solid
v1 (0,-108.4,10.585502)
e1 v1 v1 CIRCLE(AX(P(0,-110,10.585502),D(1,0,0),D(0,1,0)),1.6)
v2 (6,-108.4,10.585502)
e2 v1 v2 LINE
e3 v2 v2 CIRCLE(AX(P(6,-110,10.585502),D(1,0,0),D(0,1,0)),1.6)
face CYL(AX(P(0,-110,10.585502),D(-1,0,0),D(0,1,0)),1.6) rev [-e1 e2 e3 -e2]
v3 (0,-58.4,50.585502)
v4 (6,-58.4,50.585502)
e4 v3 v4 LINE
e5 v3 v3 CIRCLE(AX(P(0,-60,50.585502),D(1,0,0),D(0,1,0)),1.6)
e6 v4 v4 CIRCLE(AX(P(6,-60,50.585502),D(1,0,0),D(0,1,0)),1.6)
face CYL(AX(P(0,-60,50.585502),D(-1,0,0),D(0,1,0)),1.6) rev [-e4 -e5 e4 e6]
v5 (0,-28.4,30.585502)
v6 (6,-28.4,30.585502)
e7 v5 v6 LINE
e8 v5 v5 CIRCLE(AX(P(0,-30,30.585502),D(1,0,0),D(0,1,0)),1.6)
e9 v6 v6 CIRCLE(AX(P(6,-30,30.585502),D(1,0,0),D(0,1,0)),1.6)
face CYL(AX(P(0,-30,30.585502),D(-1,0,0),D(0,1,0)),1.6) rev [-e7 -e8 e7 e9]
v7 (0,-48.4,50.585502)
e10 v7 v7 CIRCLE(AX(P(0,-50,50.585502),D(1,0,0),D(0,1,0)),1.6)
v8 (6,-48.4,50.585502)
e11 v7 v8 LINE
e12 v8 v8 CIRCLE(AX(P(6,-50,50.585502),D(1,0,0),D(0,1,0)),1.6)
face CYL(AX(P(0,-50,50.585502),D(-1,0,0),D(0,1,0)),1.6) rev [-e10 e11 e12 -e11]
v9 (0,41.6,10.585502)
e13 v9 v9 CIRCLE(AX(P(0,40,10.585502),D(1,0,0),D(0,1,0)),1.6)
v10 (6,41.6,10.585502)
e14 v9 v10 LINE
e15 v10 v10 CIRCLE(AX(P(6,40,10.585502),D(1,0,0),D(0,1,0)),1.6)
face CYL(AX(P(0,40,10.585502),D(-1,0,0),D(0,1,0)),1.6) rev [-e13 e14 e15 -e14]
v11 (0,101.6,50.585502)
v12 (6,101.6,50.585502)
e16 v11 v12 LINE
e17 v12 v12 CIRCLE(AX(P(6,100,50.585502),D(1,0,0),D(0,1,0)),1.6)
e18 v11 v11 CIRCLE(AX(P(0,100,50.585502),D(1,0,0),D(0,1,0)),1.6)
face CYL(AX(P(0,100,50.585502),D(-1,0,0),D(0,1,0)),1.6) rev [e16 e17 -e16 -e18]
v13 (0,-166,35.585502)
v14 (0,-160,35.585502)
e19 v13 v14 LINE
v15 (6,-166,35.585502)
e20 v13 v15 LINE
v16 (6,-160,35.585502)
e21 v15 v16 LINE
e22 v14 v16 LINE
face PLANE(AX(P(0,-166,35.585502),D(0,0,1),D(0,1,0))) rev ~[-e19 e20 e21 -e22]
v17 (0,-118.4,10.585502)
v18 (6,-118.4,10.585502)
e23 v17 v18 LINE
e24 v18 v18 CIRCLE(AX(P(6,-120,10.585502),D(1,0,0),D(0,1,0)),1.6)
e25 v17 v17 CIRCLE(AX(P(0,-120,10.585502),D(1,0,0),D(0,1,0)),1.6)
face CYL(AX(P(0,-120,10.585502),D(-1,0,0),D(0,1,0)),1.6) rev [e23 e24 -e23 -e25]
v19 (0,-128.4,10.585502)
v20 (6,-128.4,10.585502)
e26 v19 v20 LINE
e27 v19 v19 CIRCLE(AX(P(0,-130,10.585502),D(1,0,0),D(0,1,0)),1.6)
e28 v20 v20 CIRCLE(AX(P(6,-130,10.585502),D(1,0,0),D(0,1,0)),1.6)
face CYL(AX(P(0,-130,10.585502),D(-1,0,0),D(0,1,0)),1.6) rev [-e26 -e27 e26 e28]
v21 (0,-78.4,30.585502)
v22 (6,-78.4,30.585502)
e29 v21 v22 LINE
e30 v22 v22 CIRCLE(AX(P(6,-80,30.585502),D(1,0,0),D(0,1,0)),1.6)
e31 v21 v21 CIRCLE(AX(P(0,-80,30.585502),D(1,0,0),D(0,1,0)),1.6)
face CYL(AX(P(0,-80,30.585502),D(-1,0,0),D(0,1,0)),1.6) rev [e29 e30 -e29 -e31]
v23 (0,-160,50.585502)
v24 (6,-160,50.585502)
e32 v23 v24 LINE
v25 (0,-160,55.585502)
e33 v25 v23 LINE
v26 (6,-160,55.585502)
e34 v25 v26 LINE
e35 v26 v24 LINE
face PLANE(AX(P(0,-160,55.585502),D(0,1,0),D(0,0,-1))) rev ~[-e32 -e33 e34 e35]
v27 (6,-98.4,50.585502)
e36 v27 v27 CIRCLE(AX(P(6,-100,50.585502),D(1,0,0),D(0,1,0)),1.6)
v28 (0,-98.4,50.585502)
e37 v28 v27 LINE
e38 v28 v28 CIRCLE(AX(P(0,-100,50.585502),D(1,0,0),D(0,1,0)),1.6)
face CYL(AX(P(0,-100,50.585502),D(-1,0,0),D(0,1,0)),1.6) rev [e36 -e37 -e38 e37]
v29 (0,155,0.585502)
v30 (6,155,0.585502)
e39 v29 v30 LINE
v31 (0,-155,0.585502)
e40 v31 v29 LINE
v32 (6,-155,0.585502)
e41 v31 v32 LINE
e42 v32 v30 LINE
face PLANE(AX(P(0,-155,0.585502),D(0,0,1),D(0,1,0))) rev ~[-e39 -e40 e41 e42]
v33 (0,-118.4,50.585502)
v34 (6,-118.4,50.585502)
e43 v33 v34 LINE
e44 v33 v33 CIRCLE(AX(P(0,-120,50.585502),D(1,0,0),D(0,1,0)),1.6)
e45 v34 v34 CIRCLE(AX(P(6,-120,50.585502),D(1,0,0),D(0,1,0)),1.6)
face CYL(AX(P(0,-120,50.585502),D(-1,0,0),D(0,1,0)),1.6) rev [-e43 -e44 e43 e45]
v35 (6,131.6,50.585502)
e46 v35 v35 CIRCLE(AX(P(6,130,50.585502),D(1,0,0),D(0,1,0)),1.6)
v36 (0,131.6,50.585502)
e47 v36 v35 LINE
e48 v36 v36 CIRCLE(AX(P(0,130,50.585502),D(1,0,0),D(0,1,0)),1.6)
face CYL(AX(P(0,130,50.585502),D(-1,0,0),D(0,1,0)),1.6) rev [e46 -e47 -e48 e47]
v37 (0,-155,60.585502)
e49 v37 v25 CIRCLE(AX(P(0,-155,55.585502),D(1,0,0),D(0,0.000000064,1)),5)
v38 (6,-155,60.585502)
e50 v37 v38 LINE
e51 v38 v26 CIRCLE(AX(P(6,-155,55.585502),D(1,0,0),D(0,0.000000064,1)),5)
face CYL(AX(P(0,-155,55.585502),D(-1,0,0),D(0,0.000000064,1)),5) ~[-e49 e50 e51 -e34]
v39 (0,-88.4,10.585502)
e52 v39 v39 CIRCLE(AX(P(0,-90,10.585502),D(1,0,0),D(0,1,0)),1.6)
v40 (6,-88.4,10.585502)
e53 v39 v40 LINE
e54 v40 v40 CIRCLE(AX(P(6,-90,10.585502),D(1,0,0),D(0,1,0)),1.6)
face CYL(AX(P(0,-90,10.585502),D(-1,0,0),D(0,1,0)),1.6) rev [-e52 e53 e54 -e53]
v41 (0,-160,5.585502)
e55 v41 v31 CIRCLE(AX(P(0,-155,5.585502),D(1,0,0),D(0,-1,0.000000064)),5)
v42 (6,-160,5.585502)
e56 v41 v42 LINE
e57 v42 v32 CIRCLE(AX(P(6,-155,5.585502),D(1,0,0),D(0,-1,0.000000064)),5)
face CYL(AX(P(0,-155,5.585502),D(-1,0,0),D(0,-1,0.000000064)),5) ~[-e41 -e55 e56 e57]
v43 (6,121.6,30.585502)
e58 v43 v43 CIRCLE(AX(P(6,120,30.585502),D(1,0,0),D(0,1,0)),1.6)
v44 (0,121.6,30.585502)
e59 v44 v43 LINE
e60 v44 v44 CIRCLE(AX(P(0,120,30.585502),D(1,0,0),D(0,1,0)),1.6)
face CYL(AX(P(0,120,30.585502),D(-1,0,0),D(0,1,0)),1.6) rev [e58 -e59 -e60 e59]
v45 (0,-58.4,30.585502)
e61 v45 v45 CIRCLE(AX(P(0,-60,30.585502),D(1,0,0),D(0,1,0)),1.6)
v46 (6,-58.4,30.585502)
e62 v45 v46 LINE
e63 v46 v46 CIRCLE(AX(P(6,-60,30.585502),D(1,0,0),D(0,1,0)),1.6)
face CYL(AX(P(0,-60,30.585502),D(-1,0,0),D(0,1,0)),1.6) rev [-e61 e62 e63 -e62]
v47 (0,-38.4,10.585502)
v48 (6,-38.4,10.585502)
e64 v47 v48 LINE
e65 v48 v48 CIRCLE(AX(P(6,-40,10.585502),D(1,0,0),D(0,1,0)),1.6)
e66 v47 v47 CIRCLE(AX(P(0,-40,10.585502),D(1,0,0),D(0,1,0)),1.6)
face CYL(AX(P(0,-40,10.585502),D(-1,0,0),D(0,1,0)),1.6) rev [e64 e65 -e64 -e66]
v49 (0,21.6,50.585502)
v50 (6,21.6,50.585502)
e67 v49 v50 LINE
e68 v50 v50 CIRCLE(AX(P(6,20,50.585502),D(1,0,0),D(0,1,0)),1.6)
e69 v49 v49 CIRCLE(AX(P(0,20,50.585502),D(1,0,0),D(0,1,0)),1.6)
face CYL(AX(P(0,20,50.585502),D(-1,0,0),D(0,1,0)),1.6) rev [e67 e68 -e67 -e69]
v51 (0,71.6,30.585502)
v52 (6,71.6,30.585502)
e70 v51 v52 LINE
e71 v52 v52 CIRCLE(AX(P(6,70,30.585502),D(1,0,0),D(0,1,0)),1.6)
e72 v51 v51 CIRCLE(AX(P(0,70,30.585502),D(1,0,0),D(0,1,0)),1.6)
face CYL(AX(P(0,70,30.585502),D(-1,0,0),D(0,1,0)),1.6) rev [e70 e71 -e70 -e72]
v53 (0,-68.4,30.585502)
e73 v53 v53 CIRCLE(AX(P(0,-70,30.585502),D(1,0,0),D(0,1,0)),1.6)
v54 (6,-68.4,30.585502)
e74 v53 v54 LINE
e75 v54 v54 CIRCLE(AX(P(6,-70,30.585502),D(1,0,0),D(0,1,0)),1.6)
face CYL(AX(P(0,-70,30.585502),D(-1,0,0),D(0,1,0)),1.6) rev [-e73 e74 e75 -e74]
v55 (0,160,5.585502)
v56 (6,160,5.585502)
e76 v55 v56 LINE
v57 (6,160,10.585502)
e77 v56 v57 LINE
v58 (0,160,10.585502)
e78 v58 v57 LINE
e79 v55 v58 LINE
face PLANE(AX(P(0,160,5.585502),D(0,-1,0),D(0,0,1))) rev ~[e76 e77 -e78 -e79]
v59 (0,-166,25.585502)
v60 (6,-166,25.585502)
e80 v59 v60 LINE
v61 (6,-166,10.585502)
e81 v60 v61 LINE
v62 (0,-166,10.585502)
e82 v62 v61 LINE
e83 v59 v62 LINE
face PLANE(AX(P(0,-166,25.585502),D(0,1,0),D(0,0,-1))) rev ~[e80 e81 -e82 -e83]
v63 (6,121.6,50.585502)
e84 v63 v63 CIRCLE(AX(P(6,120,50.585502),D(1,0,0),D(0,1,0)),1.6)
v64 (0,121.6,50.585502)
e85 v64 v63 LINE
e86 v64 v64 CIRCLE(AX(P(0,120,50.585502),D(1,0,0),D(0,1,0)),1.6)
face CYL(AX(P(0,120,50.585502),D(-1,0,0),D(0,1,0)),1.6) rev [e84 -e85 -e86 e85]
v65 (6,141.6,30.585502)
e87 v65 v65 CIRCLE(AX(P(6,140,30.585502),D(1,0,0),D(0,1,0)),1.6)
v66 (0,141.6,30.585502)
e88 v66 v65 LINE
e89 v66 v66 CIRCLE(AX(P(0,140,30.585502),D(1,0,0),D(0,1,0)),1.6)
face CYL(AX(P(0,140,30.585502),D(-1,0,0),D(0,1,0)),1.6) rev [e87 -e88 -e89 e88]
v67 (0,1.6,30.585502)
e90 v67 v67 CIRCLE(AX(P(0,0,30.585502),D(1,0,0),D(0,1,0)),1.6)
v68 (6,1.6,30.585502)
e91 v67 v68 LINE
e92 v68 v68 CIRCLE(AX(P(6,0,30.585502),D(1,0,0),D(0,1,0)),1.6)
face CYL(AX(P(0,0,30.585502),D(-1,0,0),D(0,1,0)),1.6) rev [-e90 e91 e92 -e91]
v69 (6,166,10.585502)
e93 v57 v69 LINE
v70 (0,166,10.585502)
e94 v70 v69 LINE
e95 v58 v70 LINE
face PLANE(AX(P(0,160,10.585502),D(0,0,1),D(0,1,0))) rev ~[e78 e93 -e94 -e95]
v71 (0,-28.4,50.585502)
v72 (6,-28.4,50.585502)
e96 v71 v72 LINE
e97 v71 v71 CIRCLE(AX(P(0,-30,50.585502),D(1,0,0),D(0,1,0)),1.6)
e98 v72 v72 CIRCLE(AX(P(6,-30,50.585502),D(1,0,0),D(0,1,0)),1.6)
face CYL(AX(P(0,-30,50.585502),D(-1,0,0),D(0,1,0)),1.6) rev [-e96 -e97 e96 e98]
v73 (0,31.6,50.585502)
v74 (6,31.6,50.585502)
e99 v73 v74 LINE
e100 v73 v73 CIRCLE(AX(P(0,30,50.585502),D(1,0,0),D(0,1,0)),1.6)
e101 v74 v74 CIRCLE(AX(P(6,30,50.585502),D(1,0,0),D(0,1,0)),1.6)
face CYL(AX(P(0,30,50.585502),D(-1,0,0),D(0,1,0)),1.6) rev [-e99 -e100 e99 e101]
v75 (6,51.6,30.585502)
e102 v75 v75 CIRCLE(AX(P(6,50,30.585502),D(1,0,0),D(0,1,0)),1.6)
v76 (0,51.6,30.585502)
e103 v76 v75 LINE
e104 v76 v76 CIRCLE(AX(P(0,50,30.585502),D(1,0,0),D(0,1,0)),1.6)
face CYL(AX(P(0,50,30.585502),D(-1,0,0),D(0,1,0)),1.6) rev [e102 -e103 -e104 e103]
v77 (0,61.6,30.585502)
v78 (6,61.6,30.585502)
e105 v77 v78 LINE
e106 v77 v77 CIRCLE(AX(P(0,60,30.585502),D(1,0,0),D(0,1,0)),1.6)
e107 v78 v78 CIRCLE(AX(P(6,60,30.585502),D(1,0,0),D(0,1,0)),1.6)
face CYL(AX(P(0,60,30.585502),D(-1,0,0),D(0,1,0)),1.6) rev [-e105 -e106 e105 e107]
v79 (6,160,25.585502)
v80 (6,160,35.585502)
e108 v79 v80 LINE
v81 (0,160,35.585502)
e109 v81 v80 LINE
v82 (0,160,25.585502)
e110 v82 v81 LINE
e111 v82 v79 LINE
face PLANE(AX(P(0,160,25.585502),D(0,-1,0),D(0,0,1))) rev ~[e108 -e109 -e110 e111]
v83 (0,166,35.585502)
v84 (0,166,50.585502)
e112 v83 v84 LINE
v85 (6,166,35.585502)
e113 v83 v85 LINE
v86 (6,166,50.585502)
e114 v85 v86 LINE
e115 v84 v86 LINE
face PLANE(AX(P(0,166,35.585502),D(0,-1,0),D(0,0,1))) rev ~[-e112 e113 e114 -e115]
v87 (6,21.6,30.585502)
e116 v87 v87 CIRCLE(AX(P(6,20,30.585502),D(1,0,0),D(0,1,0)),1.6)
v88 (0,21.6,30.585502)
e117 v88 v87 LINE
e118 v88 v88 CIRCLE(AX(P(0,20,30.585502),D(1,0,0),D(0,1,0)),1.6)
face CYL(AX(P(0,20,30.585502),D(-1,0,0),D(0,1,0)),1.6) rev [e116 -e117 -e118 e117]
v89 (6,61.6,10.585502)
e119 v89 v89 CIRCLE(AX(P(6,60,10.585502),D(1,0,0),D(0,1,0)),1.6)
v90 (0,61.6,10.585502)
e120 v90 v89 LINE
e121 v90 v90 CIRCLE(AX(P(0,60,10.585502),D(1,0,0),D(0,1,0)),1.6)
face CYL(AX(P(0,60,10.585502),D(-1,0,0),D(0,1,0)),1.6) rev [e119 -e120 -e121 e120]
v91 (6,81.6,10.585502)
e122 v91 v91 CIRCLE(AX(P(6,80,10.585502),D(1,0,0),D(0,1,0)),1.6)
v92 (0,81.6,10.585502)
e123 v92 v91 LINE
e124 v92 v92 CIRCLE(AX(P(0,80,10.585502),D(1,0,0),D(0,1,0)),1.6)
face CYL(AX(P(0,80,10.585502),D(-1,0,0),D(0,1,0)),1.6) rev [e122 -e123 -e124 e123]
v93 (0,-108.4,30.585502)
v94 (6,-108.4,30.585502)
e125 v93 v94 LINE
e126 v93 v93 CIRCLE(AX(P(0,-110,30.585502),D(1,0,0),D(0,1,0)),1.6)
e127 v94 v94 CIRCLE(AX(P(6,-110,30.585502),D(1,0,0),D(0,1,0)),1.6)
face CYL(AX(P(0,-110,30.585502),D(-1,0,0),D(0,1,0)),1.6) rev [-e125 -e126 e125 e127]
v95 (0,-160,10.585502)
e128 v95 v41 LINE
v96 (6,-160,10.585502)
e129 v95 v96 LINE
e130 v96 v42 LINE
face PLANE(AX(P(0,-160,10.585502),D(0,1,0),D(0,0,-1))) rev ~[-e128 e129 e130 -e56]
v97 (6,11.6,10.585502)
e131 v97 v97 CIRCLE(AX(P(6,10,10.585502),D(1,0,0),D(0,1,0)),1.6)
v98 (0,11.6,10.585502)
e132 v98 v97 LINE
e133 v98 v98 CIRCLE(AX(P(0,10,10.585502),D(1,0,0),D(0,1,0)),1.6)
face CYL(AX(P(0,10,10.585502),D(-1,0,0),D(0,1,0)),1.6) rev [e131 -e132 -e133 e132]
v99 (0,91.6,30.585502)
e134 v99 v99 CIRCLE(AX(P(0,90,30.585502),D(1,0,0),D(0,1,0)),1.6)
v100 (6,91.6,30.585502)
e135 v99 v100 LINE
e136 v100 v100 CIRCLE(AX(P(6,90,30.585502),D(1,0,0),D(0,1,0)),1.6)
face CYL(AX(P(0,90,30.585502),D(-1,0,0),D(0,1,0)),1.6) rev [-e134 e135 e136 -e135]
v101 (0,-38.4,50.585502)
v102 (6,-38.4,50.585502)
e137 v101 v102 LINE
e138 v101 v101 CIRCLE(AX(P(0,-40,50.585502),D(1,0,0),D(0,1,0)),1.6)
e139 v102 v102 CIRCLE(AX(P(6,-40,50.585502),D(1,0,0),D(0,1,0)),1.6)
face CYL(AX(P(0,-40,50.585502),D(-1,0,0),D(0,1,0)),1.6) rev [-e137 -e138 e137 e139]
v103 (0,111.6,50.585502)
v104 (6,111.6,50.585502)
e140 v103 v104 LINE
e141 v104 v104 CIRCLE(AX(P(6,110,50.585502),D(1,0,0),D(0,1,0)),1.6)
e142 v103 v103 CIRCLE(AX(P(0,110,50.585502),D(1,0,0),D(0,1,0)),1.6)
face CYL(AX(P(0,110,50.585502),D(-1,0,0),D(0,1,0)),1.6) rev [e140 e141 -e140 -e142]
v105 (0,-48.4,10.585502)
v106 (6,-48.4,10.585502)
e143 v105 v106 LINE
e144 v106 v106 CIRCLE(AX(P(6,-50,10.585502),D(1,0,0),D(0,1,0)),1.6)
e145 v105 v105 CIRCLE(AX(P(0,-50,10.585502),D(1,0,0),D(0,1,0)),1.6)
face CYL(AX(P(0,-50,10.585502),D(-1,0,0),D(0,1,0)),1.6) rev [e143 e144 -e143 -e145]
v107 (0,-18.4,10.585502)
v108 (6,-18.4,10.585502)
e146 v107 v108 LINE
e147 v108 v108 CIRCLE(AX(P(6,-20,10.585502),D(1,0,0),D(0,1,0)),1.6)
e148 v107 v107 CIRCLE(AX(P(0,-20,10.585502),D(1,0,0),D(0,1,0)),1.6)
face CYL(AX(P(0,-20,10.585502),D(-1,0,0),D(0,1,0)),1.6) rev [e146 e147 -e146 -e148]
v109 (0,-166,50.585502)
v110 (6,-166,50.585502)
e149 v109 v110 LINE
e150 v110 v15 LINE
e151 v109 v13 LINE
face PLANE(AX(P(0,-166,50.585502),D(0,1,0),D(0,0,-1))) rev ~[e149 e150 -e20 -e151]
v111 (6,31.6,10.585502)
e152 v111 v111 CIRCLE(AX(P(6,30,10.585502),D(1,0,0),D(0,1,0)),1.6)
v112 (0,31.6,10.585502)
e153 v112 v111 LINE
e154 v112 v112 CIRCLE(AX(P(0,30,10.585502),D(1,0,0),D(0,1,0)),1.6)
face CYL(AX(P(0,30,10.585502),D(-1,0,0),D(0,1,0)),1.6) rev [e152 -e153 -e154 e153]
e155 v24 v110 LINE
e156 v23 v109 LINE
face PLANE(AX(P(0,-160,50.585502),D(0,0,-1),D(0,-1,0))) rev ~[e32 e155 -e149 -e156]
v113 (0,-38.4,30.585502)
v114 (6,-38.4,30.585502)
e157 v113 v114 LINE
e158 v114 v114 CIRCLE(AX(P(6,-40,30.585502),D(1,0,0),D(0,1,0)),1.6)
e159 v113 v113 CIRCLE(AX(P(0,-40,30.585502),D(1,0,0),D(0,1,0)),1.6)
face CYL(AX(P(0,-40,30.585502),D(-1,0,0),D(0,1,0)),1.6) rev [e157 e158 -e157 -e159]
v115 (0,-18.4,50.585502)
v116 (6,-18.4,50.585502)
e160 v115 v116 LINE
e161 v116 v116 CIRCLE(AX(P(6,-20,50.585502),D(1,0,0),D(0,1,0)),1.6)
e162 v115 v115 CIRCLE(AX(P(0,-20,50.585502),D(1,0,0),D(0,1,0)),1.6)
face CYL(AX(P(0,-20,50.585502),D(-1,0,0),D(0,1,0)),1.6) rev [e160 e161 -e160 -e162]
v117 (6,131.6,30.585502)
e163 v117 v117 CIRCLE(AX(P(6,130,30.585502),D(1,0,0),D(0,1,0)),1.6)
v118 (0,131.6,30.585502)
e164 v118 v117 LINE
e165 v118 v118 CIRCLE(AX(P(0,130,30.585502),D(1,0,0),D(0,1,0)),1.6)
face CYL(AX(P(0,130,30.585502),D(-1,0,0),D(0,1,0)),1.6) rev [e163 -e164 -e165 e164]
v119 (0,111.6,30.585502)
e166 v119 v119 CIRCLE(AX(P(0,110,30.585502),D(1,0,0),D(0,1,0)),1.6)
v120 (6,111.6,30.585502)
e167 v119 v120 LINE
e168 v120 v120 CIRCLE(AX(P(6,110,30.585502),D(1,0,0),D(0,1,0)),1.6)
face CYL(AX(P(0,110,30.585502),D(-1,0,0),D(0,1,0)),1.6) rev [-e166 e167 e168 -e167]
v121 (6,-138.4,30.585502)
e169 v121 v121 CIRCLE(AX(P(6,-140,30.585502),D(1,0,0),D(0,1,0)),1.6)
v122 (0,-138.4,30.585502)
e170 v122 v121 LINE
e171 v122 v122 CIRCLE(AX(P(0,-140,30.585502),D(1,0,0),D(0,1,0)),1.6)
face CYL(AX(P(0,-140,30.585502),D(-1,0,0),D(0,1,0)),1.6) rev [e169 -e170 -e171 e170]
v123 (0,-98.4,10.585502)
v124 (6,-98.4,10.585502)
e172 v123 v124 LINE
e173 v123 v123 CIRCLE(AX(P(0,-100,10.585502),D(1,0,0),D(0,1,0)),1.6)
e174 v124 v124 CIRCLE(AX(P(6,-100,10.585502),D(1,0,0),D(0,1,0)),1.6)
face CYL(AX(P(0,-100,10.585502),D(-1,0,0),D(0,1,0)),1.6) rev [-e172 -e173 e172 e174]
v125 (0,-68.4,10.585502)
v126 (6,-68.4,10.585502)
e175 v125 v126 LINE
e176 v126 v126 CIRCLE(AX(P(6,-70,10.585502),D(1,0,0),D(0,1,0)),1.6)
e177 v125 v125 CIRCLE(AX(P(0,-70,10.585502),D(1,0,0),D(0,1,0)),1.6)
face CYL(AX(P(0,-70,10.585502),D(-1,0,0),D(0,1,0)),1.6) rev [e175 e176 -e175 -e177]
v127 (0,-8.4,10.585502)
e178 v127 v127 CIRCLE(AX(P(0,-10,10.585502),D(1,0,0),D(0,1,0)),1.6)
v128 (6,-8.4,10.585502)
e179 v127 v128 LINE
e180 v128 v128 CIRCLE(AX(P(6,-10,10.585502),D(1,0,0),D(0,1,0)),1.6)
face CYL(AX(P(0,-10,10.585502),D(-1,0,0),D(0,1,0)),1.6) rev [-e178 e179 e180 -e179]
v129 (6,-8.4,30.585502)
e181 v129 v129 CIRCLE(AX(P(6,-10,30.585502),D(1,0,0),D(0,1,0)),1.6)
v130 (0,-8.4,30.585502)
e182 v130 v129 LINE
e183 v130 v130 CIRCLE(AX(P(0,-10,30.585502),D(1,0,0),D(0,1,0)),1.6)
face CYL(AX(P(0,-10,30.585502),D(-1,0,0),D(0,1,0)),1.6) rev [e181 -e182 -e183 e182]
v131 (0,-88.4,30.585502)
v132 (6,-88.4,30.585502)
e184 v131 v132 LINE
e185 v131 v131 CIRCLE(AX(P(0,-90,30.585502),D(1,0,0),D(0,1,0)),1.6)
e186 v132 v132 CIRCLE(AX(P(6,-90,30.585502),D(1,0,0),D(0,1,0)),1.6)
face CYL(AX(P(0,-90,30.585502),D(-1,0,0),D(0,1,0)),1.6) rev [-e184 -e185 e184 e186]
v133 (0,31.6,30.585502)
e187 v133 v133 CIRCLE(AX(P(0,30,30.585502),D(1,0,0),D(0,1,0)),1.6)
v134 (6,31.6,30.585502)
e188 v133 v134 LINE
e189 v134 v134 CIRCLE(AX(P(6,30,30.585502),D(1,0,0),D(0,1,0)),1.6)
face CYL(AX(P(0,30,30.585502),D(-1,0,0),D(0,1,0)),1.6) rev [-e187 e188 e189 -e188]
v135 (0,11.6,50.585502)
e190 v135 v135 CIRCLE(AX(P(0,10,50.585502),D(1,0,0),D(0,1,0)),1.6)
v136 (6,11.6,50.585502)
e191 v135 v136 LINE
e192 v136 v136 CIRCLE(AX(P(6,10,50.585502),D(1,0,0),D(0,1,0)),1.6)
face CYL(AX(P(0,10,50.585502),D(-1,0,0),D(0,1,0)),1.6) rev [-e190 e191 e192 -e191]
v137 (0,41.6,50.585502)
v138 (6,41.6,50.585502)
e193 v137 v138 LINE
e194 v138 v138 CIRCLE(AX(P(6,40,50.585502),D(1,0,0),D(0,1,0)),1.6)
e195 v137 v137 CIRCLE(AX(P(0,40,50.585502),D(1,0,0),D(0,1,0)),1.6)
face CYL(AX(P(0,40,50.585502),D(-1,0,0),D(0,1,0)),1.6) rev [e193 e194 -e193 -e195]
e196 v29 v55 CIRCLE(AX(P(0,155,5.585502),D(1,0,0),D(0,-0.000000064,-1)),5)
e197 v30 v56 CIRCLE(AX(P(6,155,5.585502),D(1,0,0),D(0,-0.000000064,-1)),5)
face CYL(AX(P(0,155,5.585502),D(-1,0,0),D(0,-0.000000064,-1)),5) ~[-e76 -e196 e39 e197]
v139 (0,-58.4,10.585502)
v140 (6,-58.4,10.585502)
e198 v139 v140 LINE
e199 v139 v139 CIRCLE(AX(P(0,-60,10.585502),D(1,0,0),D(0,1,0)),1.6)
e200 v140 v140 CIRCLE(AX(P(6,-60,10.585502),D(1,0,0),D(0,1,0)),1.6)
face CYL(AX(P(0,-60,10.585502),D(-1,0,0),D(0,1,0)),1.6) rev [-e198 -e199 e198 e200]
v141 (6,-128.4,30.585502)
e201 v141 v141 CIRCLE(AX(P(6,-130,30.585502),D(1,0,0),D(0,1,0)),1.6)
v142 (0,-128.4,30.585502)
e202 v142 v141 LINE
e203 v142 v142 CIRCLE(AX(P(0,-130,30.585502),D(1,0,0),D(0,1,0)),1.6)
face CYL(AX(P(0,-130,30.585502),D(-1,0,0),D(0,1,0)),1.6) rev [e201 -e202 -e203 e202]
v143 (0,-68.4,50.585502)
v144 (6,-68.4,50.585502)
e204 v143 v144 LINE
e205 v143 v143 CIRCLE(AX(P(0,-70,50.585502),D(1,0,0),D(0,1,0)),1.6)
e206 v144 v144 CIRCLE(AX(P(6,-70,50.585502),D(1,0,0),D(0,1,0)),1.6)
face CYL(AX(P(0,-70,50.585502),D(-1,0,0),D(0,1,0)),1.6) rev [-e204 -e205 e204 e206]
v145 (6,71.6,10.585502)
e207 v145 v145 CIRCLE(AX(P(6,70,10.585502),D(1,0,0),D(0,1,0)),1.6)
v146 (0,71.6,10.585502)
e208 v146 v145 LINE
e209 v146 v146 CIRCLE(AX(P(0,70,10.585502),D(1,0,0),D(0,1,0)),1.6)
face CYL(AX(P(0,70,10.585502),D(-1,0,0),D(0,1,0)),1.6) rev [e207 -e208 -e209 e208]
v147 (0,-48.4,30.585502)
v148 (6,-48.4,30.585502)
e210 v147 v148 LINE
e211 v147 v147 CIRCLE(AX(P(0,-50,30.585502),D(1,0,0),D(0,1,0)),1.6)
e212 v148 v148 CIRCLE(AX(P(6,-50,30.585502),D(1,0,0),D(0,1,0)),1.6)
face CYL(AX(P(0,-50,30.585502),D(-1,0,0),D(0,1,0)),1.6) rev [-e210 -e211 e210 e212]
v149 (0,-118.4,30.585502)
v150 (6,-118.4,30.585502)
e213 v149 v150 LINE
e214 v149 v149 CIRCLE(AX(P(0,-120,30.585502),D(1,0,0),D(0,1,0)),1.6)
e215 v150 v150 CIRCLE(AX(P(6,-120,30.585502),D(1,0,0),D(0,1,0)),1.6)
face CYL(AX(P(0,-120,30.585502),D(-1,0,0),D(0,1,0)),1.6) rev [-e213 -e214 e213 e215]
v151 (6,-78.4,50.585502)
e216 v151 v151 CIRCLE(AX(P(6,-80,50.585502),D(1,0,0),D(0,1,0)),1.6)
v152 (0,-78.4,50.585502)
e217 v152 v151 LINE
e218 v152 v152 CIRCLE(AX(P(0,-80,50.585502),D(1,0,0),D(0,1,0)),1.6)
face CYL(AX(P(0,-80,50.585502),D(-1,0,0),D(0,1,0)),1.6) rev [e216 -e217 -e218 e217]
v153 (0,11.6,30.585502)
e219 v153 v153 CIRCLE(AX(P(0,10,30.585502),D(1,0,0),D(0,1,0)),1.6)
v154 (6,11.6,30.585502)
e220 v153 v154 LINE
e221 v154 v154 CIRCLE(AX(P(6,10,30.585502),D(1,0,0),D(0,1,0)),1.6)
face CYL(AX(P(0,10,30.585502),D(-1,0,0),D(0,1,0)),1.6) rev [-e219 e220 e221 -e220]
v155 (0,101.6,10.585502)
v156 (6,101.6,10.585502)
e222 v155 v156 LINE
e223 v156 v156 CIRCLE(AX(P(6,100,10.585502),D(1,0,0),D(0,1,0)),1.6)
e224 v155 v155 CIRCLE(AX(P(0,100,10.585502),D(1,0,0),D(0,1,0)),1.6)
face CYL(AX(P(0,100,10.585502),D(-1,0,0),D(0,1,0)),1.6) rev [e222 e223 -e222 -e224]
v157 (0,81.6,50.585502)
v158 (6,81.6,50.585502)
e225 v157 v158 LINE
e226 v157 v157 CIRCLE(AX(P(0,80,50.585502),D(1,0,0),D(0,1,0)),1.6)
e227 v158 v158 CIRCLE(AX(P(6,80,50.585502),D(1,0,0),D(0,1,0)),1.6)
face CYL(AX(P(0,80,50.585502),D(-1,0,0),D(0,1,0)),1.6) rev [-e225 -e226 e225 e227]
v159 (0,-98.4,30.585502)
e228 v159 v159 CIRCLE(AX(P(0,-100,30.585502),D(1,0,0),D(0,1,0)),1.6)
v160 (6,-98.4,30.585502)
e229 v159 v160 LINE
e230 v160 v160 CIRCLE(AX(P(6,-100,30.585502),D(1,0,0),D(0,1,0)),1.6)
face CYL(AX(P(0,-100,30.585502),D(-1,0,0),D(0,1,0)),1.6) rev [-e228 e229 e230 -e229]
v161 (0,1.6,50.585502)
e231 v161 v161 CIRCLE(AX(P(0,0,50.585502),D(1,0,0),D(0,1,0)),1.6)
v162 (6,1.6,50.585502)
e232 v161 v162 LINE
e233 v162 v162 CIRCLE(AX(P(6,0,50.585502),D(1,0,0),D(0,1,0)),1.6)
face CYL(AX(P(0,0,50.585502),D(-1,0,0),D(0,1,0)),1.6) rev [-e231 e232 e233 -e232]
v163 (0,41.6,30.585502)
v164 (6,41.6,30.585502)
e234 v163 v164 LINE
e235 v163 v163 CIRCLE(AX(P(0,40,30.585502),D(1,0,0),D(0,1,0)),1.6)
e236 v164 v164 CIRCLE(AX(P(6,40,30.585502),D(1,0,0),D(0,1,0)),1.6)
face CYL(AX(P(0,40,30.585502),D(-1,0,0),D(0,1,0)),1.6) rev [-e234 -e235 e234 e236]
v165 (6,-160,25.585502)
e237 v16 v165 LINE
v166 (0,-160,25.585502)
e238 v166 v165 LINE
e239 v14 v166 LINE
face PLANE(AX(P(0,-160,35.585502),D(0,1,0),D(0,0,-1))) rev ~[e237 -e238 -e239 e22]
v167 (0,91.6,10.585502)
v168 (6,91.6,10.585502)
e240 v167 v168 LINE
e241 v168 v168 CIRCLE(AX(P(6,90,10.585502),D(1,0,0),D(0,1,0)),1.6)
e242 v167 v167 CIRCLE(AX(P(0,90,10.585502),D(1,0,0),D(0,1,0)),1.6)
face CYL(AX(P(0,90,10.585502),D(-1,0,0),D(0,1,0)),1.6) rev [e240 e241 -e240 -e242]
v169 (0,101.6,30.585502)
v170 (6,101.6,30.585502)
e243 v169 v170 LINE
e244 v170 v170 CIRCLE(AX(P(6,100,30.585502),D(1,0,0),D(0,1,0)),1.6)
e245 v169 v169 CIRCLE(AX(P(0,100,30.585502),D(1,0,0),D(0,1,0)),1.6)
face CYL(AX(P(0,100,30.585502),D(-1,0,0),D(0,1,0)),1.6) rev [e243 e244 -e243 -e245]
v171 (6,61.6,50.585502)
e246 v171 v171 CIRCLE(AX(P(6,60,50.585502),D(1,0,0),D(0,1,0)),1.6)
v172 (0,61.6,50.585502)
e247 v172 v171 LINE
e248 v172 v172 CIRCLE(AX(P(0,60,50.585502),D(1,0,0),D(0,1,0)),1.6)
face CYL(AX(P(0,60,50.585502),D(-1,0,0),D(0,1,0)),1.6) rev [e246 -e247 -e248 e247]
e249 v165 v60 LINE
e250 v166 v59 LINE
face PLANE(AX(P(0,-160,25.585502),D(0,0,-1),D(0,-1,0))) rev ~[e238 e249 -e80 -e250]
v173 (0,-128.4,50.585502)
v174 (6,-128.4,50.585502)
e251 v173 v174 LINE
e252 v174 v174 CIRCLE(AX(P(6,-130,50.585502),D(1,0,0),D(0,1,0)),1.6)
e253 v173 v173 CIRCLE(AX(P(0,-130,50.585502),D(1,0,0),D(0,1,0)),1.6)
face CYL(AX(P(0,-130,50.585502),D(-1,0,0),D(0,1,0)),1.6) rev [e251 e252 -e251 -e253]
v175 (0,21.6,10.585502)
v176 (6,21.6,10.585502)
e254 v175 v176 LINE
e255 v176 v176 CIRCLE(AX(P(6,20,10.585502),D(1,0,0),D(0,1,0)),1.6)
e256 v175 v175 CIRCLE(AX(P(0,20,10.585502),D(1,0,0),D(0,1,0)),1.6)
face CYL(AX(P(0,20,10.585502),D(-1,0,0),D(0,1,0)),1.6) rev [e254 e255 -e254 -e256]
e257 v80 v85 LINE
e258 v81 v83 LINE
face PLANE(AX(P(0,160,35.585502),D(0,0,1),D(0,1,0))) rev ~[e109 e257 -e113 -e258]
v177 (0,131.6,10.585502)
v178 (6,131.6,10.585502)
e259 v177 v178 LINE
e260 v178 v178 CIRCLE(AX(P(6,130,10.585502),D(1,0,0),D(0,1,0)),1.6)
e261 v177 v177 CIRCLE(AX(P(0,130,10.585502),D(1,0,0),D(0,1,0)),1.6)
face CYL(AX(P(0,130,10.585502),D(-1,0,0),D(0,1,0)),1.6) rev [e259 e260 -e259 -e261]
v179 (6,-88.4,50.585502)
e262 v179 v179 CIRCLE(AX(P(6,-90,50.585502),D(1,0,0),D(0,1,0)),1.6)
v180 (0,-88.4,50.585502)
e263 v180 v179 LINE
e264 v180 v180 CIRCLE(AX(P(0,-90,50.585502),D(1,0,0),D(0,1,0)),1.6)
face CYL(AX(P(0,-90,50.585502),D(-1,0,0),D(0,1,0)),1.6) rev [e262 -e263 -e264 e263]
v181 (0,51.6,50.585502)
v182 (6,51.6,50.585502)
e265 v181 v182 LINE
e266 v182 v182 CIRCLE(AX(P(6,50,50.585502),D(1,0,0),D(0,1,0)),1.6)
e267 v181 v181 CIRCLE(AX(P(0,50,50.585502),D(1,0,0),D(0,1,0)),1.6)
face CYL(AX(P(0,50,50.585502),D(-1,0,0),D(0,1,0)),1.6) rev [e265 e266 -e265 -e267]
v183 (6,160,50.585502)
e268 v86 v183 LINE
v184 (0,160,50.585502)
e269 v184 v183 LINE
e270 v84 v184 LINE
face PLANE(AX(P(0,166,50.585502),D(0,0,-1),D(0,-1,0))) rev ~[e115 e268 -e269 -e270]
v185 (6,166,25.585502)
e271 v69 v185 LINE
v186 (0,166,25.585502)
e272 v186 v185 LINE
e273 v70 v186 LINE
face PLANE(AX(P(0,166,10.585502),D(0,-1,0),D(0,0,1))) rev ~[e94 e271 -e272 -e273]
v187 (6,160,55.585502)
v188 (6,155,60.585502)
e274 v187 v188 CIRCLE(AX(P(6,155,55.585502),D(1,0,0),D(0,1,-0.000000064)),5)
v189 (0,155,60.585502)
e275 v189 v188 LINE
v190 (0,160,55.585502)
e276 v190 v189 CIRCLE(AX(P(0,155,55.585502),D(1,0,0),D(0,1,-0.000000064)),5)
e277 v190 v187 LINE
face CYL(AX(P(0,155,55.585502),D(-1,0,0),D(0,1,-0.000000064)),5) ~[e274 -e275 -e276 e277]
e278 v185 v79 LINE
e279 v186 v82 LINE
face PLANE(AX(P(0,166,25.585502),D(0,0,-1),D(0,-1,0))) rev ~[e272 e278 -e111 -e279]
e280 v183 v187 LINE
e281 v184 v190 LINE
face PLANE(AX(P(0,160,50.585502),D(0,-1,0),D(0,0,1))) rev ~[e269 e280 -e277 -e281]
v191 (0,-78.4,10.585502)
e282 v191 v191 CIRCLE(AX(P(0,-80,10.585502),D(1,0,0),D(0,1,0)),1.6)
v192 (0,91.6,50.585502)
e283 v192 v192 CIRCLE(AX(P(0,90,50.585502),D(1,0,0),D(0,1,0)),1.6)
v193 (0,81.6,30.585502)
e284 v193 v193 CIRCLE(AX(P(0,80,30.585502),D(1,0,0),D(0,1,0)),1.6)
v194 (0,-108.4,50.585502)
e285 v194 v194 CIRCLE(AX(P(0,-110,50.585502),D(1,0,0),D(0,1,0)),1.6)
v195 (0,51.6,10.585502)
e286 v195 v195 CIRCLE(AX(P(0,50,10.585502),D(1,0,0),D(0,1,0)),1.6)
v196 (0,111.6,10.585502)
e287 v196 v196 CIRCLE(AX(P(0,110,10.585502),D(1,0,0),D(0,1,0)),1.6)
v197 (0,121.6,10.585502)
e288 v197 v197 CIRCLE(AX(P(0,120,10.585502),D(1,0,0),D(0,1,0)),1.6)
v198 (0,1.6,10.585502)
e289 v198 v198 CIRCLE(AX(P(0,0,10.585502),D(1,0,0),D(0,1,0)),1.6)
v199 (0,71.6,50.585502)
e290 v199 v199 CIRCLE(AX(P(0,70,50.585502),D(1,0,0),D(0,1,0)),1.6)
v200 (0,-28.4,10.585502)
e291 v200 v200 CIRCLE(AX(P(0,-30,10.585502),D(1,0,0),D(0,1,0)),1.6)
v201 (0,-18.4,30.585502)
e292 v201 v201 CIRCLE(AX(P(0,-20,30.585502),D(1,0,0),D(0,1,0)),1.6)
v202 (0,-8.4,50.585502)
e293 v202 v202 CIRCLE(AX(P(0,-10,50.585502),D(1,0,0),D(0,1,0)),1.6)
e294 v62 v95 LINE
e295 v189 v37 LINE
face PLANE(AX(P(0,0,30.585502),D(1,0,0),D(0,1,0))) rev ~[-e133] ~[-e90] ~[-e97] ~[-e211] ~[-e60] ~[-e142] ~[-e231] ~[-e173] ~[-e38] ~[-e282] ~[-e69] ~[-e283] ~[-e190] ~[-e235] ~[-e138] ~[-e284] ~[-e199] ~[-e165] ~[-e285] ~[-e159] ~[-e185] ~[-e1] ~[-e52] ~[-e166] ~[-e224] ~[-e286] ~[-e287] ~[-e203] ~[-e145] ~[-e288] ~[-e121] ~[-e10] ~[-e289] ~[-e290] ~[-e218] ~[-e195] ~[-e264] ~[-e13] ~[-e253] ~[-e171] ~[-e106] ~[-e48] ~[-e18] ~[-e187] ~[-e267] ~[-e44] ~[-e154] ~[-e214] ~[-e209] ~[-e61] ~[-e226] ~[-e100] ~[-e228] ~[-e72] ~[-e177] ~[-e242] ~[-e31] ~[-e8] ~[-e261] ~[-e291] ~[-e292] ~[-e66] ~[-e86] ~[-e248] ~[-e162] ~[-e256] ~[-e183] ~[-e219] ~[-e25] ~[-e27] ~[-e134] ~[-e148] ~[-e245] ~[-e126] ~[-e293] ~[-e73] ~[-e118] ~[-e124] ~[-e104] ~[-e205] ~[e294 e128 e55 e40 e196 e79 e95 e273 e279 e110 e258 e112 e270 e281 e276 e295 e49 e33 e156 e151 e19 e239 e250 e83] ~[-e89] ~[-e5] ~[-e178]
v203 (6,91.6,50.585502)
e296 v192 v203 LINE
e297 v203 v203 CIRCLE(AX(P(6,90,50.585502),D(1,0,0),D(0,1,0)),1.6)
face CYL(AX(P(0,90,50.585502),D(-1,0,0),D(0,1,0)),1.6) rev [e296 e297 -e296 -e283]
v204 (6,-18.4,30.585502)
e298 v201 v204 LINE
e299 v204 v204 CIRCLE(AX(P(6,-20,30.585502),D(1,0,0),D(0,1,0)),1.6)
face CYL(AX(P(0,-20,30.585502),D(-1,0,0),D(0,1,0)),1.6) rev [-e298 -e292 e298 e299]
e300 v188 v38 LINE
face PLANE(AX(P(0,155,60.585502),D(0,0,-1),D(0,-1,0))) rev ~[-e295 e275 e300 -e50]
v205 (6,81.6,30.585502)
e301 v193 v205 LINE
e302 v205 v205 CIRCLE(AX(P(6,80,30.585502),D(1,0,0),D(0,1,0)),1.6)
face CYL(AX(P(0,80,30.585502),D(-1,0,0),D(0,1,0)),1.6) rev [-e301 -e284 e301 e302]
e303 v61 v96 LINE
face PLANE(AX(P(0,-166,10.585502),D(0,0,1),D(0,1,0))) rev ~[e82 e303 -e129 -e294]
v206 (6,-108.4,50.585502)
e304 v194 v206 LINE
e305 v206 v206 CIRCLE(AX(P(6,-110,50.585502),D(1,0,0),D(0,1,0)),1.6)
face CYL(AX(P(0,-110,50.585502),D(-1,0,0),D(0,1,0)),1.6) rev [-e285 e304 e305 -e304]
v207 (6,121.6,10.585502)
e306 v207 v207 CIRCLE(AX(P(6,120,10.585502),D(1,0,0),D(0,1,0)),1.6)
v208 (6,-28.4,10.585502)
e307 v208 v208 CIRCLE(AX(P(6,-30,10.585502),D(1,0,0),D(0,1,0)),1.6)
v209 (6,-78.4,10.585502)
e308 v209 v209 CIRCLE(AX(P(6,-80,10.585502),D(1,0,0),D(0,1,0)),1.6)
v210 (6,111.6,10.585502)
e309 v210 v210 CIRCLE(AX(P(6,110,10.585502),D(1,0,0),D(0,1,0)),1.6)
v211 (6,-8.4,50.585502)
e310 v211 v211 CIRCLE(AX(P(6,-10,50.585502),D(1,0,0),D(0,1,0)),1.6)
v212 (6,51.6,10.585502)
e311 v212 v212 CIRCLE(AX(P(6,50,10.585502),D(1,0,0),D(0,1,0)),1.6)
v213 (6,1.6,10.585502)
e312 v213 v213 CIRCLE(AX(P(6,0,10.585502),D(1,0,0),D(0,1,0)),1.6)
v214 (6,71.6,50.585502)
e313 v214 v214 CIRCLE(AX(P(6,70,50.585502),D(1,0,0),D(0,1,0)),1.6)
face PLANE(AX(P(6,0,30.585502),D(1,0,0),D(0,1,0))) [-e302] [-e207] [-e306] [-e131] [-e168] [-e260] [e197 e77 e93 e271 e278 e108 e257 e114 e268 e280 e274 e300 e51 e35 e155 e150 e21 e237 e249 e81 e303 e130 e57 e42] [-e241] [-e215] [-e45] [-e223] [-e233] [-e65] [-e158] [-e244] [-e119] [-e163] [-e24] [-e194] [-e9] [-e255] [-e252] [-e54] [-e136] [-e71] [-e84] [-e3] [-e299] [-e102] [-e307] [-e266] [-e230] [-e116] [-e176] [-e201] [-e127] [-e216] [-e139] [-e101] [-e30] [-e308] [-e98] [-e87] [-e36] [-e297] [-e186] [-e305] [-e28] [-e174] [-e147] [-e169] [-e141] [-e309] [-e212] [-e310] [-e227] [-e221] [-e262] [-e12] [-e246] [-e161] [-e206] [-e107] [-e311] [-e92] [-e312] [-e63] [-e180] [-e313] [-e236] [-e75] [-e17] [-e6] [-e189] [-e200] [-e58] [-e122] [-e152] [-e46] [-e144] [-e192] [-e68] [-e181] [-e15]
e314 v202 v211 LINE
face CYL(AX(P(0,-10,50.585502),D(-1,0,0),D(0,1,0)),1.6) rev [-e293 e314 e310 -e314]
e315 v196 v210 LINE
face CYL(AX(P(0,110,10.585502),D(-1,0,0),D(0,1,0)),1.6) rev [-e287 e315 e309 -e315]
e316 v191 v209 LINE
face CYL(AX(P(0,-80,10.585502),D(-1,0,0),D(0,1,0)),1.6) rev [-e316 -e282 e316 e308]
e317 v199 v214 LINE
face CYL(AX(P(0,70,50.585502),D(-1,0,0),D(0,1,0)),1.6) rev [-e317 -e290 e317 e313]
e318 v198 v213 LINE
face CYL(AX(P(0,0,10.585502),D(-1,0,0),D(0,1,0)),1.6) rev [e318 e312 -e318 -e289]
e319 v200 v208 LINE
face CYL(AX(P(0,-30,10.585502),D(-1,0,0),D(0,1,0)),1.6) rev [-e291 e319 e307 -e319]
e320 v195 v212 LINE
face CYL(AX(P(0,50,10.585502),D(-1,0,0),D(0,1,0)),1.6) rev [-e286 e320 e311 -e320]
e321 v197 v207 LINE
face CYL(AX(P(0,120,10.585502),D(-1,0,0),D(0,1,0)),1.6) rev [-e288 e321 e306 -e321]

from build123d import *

# Parameters (mm, degrees)
F0_R     = 1.6
F1_DEPTH = 6


with BuildPart() as f1:
    # F0 (on Right) → F1 (new body)
    with BuildSketch(Plane.YZ):
        with BuildLine():
            Line((0, 0.585502), (155, 0.585502))
            ThreePointArc((155, 0.585502), (158.535534, 2.049968), (160, 5.585502))
            Line((160, 5.585502), (160, 10.585502))
            Line((160, 10.585502), (166, 10.585502))
            Line((166, 10.585502), (166, 25.585502))
            Line((166, 25.585502), (160, 25.585502))
            Line((160, 25.585502), (160, 35.585502))
            Line((160, 35.585502), (166, 35.585502))
            Line((166, 35.585502), (166, 50.585502))
            Line((166, 50.585502), (160, 50.585502))
            Line((160, 50.585502), (160, 55.585502))
            ThreePointArc((160, 55.585502), (158.535534, 59.121036), (155, 60.585502))
            Line((155, 60.585502), (0, 60.585502))
            Line((0, 60.585502), (-155, 60.585502))
            ThreePointArc((-155, 60.585502), (-158.535534, 59.121036), (-160, 55.585502))
            Line((-160, 55.585502), (-160, 50.585502))
            Line((-160, 50.585502), (-166, 50.585502))
            Line((-166, 50.585502), (-166, 35.585502))
            Line((-166, 35.585502), (-160, 35.585502))
            Line((-160, 35.585502), (-160, 25.585502))
            Line((-160, 25.585502), (-166, 25.585502))
            Line((-166, 25.585502), (-166, 10.585502))
            Line((-166, 10.585502), (-160, 10.585502))
            Line((-160, 10.585502), (-160, 5.585502))
            ThreePointArc((-160, 5.585502), (-158.535534, 2.049968), (-155, 0.585502))
            Line((-155, 0.585502), (0, 0.585502))
        make_face()
        with Locations((-130, 10.585502)):
            Circle(F0_R, mode=Mode.SUBTRACT)
        with Locations((-120, 10.585502)):
            Circle(F0_R, mode=Mode.SUBTRACT)
        with Locations((-110, 10.585502)):
            Circle(F0_R, mode=Mode.SUBTRACT)
        with Locations((-100, 10.585502)):
            Circle(F0_R, mode=Mode.SUBTRACT)
        with Locations((-90, 10.585502)):
            Circle(F0_R, mode=Mode.SUBTRACT)
        with Locations((-80, 10.585502)):
            Circle(F0_R, mode=Mode.SUBTRACT)
        with Locations((-70, 10.585502)):
            Circle(F0_R, mode=Mode.SUBTRACT)
        with Locations((-60, 10.585502)):
            Circle(F0_R, mode=Mode.SUBTRACT)
        with Locations((-50, 10.585502)):
            Circle(F0_R, mode=Mode.SUBTRACT)
        with Locations((-40, 10.585502)):
            Circle(F0_R, mode=Mode.SUBTRACT)
        with Locations((-30, 10.585502)):
            Circle(F0_R, mode=Mode.SUBTRACT)
        with Locations((-20, 10.585502)):
            Circle(F0_R, mode=Mode.SUBTRACT)
        with Locations((-10, 10.585502)):
            Circle(F0_R, mode=Mode.SUBTRACT)
        with Locations((0, 10.585502)):
            Circle(F0_R, mode=Mode.SUBTRACT)
        with Locations((10, 10.585502)):
            Circle(F0_R, mode=Mode.SUBTRACT)
        with Locations((20, 10.585502)):
            Circle(F0_R, mode=Mode.SUBTRACT)
        with Locations((30, 10.585502)):
            Circle(F0_R, mode=Mode.SUBTRACT)
        with Locations((40, 10.585502)):
            Circle(F0_R, mode=Mode.SUBTRACT)
        with Locations((50, 10.585502)):
            Circle(F0_R, mode=Mode.SUBTRACT)
        with Locations((60, 10.585502)):
            Circle(F0_R, mode=Mode.SUBTRACT)
        with Locations((70, 10.585502)):
            Circle(F0_R, mode=Mode.SUBTRACT)
        with Locations((80, 10.585502)):
            Circle(F0_R, mode=Mode.SUBTRACT)
        with Locations((90, 10.585502)):
            Circle(F0_R, mode=Mode.SUBTRACT)
        with Locations((100, 10.585502)):
            Circle(F0_R, mode=Mode.SUBTRACT)
        with Locations((110, 10.585502)):
            Circle(F0_R, mode=Mode.SUBTRACT)
        with Locations((120, 10.585502)):
            Circle(F0_R, mode=Mode.SUBTRACT)
        with Locations((130, 10.585502)):
            Circle(F0_R, mode=Mode.SUBTRACT)
        with Locations((-140, 30.585502)):
            Circle(F0_R, mode=Mode.SUBTRACT)
        with Locations((-130, 30.585502)):
            Circle(F0_R, mode=Mode.SUBTRACT)
        with Locations((-120, 30.585502)):
            Circle(F0_R, mode=Mode.SUBTRACT)
        with Locations((-110, 30.585502)):
            Circle(F0_R, mode=Mode.SUBTRACT)
        with Locations((-100, 30.585502)):
            Circle(F0_R, mode=Mode.SUBTRACT)
        with Locations((-90, 30.585502)):
            Circle(F0_R, mode=Mode.SUBTRACT)
        with Locations((-80, 30.585502)):
            Circle(F0_R, mode=Mode.SUBTRACT)
        with Locations((-70, 30.585502)):
            Circle(F0_R, mode=Mode.SUBTRACT)
        with Locations((-60, 30.585502)):
            Circle(F0_R, mode=Mode.SUBTRACT)
        with Locations((-50, 30.585502)):
            Circle(F0_R, mode=Mode.SUBTRACT)
        with Locations((-40, 30.585502)):
            Circle(F0_R, mode=Mode.SUBTRACT)
        with Locations((-30, 30.585502)):
            Circle(F0_R, mode=Mode.SUBTRACT)
        with Locations((-20, 30.585502)):
            Circle(F0_R, mode=Mode.SUBTRACT)
        with Locations((-10, 30.585502)):
            Circle(F0_R, mode=Mode.SUBTRACT)
        with Locations((-130, 50.585502)):
            Circle(F0_R, mode=Mode.SUBTRACT)
        with Locations((-120, 50.585502)):
            Circle(F0_R, mode=Mode.SUBTRACT)
        with Locations((-110, 50.585502)):
            Circle(F0_R, mode=Mode.SUBTRACT)
        with Locations((-100, 50.585502)):
            Circle(F0_R, mode=Mode.SUBTRACT)
        with Locations((-90, 50.585502)):
            Circle(F0_R, mode=Mode.SUBTRACT)
        with Locations((-80, 50.585502)):
            Circle(F0_R, mode=Mode.SUBTRACT)
        with Locations((-70, 50.585502)):
            Circle(F0_R, mode=Mode.SUBTRACT)
        with Locations((-60, 50.585502)):
            Circle(F0_R, mode=Mode.SUBTRACT)
        with Locations((-50, 50.585502)):
            Circle(F0_R, mode=Mode.SUBTRACT)
        with Locations((-40, 50.585502)):
            Circle(F0_R, mode=Mode.SUBTRACT)
        with Locations((-30, 50.585502)):
            Circle(F0_R, mode=Mode.SUBTRACT)
        with Locations((-20, 50.585502)):
            Circle(F0_R, mode=Mode.SUBTRACT)
        with Locations((-10, 50.585502)):
            Circle(F0_R, mode=Mode.SUBTRACT)
        with Locations((0, 30.585502)):
            Circle(F0_R, mode=Mode.SUBTRACT)
        with Locations((10, 30.585502)):
            Circle(F0_R, mode=Mode.SUBTRACT)
        with Locations((20, 30.585502)):
            Circle(F0_R, mode=Mode.SUBTRACT)
        with Locations((30, 30.585502)):
            Circle(F0_R, mode=Mode.SUBTRACT)
        with Locations((40, 30.585502)):
            Circle(F0_R, mode=Mode.SUBTRACT)
        with Locations((50, 30.585502)):
            Circle(F0_R, mode=Mode.SUBTRACT)
        with Locations((60, 30.585502)):
            Circle(F0_R, mode=Mode.SUBTRACT)
        with Locations((70, 30.585502)):
            Circle(F0_R, mode=Mode.SUBTRACT)
        with Locations((80, 30.585502)):
            Circle(F0_R, mode=Mode.SUBTRACT)
        with Locations((90, 30.585502)):
            Circle(F0_R, mode=Mode.SUBTRACT)
        with Locations((100, 30.585502)):
            Circle(F0_R, mode=Mode.SUBTRACT)
        with Locations((110, 30.585502)):
            Circle(F0_R, mode=Mode.SUBTRACT)
        with Locations((120, 30.585502)):
            Circle(F0_R, mode=Mode.SUBTRACT)
        with Locations((130, 30.585502)):
            Circle(F0_R, mode=Mode.SUBTRACT)
        with Locations((140, 30.585502)):
            Circle(F0_R, mode=Mode.SUBTRACT)
        with Locations((0, 50.585502)):
            Circle(F0_R, mode=Mode.SUBTRACT)
        with Locations((10, 50.585502)):
            Circle(F0_R, mode=Mode.SUBTRACT)
        with Locations((20, 50.585502)):
            Circle(F0_R, mode=Mode.SUBTRACT)
        with Locations((30, 50.585502)):
            Circle(F0_R, mode=Mode.SUBTRACT)
        with Locations((40, 50.585502)):
            Circle(F0_R, mode=Mode.SUBTRACT)
        with Locations((50, 50.585502)):
            Circle(F0_R, mode=Mode.SUBTRACT)
        with Locations((60, 50.585502)):
            Circle(F0_R, mode=Mode.SUBTRACT)
        with Locations((70, 50.585502)):
            Circle(F0_R, mode=Mode.SUBTRACT)
        with Locations((80, 50.585502)):
            Circle(F0_R, mode=Mode.SUBTRACT)
        with Locations((90, 50.585502)):
            Circle(F0_R, mode=Mode.SUBTRACT)
        with Locations((100, 50.585502)):
            Circle(F0_R, mode=Mode.SUBTRACT)
        with Locations((110, 50.585502)):
            Circle(F0_R, mode=Mode.SUBTRACT)
        with Locations((120, 50.585502)):
            Circle(F0_R, mode=Mode.SUBTRACT)
        with Locations((130, 50.585502)):
            Circle(F0_R, mode=Mode.SUBTRACT)
    extrude(amount=F1_DEPTH)


solid = f1.part
